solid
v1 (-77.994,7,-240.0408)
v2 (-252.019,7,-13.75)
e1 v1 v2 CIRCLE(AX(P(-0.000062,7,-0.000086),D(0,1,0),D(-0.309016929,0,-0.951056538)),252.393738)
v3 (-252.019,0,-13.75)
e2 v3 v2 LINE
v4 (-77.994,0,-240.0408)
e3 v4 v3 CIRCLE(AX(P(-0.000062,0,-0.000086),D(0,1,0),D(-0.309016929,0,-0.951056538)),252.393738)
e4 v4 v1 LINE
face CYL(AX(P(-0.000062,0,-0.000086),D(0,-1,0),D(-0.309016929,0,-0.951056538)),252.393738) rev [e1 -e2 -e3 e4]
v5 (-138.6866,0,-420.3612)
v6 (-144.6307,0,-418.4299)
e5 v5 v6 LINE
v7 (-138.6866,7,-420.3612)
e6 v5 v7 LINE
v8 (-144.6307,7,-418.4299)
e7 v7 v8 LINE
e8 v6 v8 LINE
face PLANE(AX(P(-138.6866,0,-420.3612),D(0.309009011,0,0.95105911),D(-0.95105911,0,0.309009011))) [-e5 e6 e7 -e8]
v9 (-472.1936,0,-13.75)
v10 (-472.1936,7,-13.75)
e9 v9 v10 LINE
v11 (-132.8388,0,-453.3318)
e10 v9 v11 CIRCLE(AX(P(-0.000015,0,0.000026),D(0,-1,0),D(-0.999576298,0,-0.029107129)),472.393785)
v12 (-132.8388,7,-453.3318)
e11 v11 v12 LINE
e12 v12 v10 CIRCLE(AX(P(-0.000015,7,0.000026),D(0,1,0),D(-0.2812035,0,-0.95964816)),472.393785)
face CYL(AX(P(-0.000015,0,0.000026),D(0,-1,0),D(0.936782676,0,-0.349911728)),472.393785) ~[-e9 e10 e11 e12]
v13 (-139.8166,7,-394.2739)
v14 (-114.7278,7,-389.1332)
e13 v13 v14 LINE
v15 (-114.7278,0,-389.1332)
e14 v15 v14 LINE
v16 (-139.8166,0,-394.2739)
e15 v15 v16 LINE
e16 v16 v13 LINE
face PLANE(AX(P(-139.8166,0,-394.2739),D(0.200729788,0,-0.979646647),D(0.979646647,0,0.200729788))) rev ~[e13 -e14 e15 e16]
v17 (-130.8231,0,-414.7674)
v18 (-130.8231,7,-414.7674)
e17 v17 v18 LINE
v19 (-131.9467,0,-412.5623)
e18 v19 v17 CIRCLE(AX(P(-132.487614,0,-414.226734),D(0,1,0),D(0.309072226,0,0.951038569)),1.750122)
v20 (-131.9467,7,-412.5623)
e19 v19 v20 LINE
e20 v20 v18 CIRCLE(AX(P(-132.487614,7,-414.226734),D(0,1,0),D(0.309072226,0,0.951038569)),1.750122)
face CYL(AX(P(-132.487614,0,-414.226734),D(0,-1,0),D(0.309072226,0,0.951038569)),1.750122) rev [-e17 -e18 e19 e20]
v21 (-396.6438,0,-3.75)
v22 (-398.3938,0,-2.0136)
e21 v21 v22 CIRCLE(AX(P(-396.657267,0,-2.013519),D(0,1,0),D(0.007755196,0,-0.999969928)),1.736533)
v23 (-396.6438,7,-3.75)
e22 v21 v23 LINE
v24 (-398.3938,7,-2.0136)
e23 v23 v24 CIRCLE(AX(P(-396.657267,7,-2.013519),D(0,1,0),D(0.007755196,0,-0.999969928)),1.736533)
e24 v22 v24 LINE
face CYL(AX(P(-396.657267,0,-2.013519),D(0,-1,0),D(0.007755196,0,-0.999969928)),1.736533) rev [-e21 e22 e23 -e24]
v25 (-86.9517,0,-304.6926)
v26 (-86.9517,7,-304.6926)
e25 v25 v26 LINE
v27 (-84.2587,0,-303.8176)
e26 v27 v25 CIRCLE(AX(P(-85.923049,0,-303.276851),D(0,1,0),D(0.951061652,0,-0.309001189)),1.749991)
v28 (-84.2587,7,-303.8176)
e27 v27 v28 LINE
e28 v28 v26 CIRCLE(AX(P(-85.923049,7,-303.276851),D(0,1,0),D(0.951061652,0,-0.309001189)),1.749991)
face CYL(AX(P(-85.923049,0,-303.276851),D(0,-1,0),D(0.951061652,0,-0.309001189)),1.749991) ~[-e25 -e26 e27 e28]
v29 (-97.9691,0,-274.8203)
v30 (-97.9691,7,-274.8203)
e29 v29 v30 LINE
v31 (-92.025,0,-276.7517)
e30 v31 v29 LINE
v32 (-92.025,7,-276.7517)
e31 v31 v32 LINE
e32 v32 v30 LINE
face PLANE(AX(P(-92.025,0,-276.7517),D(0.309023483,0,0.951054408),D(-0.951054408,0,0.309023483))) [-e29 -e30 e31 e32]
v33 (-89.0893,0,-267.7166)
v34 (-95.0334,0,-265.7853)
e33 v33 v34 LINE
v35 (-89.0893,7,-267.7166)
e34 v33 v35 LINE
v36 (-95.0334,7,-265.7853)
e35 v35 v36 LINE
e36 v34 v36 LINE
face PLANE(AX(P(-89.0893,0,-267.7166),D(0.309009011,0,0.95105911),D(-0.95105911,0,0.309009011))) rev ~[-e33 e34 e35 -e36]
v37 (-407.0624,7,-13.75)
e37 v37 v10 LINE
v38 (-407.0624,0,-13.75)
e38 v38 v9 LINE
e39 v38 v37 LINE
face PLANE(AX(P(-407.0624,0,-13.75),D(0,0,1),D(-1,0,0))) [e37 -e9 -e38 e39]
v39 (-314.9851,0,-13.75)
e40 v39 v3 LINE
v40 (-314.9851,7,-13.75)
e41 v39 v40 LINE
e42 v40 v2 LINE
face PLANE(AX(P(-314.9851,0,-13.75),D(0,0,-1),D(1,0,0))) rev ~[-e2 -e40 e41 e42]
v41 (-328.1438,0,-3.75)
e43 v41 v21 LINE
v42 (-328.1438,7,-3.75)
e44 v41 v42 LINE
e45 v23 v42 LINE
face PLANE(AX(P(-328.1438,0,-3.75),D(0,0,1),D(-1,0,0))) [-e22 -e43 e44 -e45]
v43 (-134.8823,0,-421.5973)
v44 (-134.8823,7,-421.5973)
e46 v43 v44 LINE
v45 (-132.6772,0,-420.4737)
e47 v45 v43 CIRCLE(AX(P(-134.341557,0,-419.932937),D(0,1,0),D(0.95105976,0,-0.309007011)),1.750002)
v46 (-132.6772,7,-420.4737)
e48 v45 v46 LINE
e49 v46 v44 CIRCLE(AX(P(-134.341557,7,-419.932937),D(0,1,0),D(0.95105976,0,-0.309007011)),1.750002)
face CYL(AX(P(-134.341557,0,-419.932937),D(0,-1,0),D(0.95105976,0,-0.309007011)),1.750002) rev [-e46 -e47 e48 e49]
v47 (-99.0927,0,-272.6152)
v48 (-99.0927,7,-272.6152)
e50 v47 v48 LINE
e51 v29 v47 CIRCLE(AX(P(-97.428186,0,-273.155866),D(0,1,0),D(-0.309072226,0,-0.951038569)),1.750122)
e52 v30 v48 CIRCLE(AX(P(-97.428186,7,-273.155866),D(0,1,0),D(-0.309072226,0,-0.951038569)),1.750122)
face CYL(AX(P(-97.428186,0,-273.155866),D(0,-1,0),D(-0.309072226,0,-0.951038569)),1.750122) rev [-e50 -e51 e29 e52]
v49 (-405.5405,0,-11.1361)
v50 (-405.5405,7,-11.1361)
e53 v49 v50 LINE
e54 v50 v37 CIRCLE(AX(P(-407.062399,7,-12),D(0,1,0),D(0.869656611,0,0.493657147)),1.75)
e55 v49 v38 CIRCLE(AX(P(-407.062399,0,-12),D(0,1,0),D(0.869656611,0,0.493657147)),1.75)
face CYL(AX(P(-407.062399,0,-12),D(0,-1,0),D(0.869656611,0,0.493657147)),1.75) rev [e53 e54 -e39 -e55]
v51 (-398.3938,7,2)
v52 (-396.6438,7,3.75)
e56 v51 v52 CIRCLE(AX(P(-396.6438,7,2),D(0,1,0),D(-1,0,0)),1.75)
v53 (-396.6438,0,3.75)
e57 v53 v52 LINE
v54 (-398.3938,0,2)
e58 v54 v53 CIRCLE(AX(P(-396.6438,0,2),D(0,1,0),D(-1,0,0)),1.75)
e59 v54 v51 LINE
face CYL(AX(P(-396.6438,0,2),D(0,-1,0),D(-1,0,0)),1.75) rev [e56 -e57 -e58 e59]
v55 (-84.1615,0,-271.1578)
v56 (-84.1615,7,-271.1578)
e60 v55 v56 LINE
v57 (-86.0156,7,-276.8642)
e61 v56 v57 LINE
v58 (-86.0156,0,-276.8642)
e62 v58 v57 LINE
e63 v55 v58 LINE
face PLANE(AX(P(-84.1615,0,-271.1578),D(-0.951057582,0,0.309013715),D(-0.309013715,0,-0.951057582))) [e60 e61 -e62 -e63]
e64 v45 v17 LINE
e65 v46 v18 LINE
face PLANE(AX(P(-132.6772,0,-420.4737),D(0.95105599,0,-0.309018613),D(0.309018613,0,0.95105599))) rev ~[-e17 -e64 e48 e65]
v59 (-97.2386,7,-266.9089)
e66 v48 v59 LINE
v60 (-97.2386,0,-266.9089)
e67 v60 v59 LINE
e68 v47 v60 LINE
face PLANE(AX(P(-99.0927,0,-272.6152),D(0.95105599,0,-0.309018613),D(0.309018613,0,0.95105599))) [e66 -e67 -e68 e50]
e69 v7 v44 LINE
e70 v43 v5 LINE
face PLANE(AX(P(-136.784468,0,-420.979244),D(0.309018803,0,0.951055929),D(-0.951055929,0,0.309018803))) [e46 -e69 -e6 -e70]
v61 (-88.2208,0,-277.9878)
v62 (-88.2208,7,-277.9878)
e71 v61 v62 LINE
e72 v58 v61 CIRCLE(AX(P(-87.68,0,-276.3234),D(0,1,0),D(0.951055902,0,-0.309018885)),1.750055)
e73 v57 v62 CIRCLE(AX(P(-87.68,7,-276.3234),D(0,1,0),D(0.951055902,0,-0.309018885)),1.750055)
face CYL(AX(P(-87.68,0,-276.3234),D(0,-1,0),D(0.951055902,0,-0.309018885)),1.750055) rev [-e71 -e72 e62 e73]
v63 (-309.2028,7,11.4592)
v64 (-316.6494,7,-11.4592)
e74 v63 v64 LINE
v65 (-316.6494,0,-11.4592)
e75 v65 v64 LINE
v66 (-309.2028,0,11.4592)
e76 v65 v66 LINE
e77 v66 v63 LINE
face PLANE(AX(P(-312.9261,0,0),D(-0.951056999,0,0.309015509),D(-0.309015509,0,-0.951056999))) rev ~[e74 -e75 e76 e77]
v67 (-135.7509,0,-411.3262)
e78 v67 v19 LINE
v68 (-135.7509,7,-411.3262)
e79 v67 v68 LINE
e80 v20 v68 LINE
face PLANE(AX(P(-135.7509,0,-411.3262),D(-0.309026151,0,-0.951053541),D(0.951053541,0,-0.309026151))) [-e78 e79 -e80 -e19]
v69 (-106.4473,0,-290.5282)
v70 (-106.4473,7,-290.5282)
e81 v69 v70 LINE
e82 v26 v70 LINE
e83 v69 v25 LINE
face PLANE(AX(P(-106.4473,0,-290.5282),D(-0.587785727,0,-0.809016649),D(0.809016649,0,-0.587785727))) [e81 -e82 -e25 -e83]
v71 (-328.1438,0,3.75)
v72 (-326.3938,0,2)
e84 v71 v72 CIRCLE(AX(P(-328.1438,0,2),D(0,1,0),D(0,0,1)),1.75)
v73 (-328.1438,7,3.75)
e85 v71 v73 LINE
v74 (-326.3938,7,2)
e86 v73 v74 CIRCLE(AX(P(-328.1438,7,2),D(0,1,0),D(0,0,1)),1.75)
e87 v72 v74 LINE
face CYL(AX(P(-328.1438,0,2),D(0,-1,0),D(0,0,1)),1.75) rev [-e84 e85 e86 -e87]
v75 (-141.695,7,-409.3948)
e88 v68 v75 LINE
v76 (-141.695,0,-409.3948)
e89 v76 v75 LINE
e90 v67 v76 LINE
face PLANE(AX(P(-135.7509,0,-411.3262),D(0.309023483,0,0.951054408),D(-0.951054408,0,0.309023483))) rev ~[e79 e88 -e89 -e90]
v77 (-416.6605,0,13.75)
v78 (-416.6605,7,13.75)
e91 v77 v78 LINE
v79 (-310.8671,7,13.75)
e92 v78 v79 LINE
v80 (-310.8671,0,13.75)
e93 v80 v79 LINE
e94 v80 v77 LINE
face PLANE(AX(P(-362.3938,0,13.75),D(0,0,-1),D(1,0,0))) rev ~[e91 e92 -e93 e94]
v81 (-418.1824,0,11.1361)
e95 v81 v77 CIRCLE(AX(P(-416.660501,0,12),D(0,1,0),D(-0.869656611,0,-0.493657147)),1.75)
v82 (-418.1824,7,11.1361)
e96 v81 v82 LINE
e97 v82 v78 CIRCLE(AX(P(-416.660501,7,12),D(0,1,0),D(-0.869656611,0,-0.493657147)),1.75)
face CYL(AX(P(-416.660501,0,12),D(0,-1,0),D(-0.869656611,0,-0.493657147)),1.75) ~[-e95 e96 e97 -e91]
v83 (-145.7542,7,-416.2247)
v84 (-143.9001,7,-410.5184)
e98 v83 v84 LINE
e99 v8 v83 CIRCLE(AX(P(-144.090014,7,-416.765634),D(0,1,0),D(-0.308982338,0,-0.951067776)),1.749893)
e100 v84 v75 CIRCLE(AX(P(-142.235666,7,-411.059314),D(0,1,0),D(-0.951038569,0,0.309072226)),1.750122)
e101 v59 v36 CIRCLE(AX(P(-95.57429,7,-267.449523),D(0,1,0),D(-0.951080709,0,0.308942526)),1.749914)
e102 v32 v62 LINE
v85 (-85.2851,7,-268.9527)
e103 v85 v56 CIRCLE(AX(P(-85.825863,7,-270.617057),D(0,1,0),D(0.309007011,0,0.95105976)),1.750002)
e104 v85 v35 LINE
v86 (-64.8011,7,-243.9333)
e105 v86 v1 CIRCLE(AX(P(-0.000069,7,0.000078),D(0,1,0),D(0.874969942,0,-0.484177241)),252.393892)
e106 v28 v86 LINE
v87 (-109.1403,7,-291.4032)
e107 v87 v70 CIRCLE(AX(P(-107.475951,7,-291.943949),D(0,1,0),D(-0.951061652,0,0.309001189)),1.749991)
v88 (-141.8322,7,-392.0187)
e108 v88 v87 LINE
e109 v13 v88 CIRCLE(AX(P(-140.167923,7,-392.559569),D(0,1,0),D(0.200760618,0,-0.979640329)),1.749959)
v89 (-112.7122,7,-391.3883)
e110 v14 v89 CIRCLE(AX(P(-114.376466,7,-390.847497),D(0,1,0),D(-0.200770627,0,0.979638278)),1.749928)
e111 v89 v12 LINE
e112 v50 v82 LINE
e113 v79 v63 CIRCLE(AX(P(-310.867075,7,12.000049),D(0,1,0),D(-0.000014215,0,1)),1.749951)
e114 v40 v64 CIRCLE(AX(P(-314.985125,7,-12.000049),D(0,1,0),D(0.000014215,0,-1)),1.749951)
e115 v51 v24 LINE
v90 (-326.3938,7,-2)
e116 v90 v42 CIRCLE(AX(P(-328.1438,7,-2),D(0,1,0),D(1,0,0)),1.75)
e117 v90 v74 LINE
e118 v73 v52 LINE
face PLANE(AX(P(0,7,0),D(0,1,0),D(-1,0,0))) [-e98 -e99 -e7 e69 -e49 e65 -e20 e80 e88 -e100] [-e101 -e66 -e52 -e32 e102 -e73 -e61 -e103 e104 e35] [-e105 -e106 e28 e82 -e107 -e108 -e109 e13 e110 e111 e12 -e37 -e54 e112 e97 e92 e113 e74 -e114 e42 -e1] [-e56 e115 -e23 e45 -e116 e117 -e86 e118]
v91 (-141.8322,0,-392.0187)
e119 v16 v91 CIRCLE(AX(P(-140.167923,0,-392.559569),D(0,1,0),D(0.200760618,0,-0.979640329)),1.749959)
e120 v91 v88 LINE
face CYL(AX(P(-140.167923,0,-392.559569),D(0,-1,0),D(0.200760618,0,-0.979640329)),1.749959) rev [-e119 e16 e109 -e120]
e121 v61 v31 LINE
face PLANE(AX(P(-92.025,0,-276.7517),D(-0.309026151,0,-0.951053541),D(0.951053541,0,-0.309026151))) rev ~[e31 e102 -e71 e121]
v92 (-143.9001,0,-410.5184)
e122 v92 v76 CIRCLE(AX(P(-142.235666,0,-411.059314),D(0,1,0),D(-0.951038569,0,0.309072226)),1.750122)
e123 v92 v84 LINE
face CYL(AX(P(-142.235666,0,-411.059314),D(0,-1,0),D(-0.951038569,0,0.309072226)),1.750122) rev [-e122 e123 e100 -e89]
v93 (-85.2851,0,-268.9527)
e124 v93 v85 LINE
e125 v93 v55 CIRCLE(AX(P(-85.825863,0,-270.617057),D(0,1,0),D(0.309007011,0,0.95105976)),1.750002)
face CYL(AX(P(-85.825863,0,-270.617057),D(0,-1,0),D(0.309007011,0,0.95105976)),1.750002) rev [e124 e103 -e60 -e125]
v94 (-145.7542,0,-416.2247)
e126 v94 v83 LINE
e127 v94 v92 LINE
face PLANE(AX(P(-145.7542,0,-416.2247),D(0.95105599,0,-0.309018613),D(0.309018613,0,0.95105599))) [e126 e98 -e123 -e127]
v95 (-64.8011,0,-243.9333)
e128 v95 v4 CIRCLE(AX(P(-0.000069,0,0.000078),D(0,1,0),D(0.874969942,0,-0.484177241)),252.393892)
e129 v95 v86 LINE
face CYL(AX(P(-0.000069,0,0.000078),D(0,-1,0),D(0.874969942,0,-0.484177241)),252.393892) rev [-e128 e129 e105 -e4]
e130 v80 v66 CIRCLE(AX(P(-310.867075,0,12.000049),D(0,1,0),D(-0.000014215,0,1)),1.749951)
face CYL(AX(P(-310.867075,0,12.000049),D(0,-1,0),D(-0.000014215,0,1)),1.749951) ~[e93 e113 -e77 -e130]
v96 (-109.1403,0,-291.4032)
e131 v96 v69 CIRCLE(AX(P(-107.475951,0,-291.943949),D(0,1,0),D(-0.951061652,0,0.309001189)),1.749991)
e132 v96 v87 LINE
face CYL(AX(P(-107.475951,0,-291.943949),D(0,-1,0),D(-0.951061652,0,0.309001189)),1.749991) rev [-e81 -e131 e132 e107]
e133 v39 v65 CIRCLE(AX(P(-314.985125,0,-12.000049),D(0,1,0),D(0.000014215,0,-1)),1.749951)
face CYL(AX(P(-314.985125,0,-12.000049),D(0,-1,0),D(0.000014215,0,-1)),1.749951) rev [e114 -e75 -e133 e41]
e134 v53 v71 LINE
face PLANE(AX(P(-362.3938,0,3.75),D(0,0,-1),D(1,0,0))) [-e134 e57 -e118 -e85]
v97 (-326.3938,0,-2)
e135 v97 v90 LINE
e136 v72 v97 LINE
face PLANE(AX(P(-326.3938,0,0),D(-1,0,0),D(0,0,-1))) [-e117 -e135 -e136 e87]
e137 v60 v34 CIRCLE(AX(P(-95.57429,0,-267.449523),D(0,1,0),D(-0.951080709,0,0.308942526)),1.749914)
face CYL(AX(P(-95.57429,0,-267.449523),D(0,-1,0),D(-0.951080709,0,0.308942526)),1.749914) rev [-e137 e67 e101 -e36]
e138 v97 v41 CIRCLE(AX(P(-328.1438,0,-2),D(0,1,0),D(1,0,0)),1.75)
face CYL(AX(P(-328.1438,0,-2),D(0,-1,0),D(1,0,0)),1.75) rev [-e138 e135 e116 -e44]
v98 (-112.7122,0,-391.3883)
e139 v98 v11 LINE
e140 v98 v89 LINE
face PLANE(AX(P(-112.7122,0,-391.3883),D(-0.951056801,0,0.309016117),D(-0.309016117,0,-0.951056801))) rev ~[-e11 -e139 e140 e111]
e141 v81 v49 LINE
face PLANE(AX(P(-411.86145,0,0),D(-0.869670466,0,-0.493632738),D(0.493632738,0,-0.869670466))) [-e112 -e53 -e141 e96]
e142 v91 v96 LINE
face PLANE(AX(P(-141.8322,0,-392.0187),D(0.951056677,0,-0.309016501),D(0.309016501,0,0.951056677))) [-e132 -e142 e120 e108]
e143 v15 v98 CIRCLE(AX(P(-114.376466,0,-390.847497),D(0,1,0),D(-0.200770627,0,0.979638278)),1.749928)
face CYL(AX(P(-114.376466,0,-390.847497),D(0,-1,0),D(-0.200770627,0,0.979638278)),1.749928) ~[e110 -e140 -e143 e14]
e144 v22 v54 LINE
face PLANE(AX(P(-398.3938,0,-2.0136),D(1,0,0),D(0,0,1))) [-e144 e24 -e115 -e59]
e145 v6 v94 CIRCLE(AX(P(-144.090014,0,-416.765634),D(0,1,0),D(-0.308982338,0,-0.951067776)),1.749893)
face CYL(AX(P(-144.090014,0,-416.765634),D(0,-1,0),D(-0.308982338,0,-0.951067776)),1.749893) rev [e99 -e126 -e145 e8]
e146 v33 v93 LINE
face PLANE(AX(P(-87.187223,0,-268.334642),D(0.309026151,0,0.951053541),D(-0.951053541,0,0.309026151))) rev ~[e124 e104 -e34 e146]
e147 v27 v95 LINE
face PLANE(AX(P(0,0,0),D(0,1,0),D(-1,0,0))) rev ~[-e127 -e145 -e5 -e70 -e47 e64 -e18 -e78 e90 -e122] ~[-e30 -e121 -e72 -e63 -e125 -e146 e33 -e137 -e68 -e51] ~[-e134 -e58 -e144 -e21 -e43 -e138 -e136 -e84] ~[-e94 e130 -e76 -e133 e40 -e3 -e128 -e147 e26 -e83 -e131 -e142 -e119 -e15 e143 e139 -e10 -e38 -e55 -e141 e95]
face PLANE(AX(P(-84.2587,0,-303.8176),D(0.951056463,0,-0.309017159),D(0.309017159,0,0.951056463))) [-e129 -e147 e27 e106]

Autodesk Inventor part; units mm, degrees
ref_plane "YZ Plane" through (0, 0, 0) normal (1, 0, 0) x (0, 1, 0)
ref_plane "XZ Plane" through (0, 0, 0) normal (0, 1, 0) x (-1, 0, 0)
ref_plane "XY Plane" through (0, 0, 0) normal (0, 0, 1) x (1, 0, 0)
sketch "Sketch1" plane through (0, 0, 0) normal (0, 1, 0) x (-1, 0, 0)
  line L0 (0, 0) -> (618.9442, 0)
  line L1 (0, 0) -> (191.2643, 588.6509)
  line L2 (0, 0) -> (-500.7364, 363.8063)
  line L3 (0, 0) -> (-500.7364, -363.8063)
  line L4 (0, 0) -> (191.2643, -588.6509)
  line L5 (396.6438, 3.75) -> (328.1438, 3.75)
  line L6 (328.1438, -3.75) -> (396.6438, -3.75)
  arc A0 (472.3938, 0) -> (145.9777, 449.2732) centre (0, 0) ccw
  arc A1 (77.994, -240.0408) -> (252.3938, 0) centre (0, 0) ccw
  line L7 (289.8938, 3.75) -> (283.8938, 3.75)
  line L8 (283.8938, -3.75) -> (289.8938, -3.75)
  arc A2 (328.1438, 3.75) -> (326.3938, 2) centre (328.1438, 2) ccw
  arc A3 (326.3938, -2) -> (328.1438, -3.75) centre (328.1438, -2) ccw
  line L9 (326.3938, 2) -> (326.3938, -2)
  arc A4 (398.3938, 2) -> (396.6438, 3.75) centre (396.6438, 2) ccw
  arc A5 (396.6438, -3.75) -> (398.3938, -2.0136) centre (396.6573, -2.0136) ccw
  line L10 (398.3938, -2.0136) -> (398.3938, 2)
  line L11 (362.3938, -3.75) -> (362.3938, 32.9806)
  arc A6 (283.8938, 3.75) -> (282.1438, 2) centre (283.8938, 2) ccw
  arc A7 (282.1438, -2) -> (283.8938, -3.75) centre (283.8938, -2) ccw
  arc A8 (289.8938, -3.75) -> (291.6438, -2) centre (289.8938, -2) ccw
  arc A9 (291.6438, 2) -> (289.8938, 3.75) centre (289.8938, 2) ccw
  line L12 (291.6438, 2) -> (291.6438, -2)
  line L13 (282.1438, -2) -> (282.1438, 2)
  line L14 (434.8938, 3.75) -> (440.8938, 3.75)
  line L15 (440.8938, -3.75) -> (434.8938, -3.75)
  arc A10 (442.6438, 2) -> (440.8938, 3.75) centre (440.8938, 2) ccw
  arc A11 (440.8938, -3.75) -> (442.6438, -2) centre (440.8938, -2) ccw
  arc A12 (433.1438, -2) -> (434.8938, -3.75) centre (434.8938, -2) ccw
  arc A13 (434.8938, 3.75) -> (433.1438, 2) centre (434.8938, 2) ccw
  line L16 (433.1438, 2) -> (433.1438, -2)
  line L17 (442.6438, -2) -> (442.6438, 2)
  line L18 (131.9467, 412.5623) -> (135.7509, 411.3262)
  arc A14 (130.8231, 414.7674) -> (131.9467, 412.5623) centre (132.4875, 414.2266) ccw
  arc A15 (135.7509, 411.3262) -> (137.956, 412.4498) centre (136.2917, 412.9905) ccw
  line L19 (139.8101, 418.1561) -> (137.956, 412.4498)
  line L20 (130.8231, 414.7674) -> (132.6772, 420.4737)
  arc A16 (134.8823, 421.5973) -> (132.6772, 420.4737) centre (134.3416, 419.9329) ccw
  line L21 (138.6866, 420.3612) -> (134.8823, 421.5973)
  arc A17 (139.8101, 418.1561) -> (138.6866, 420.3612) centre (138.1458, 418.6969) ccw
  line L22 (125.0255, 378.2728) -> (121.2083, 379.513)
  arc A18 (121.2083, 379.513) -> (119.0032, 378.3895) centre (120.6676, 377.8487) ccw
  arc A19 (126.1361, 376.0718) -> (125.0255, 378.2728) centre (124.4888, 376.6213) ccw
  line L23 (119.0032, 378.3895) -> (97.8355, 313.2421)
  line L24 (98.9591, 311.037) -> (102.7633, 309.8009)
  arc A20 (97.8355, 313.2421) -> (98.9591, 311.037) centre (99.4999, 312.7013) ccw
  arc A21 (102.7633, 309.8009) -> (104.9685, 310.9245) centre (103.3041, 311.4652) ccw
  line L25 (104.9685, 310.9245) -> (126.1361, 376.0718)
  line L26 (88.2208, 277.9878) -> (92.025, 276.7517)
  arc A22 (93.1486, 274.5466) -> (92.025, 276.7517) centre (91.4842, 275.0873) ccw
  line L27 (91.2945, 268.8402) -> (93.1486, 274.5466)
  arc A23 (88.2208, 277.9878) -> (86.0156, 276.8642) centre (87.68, 276.3234) ccw
  line L28 (86.0156, 276.8642) -> (84.1615, 271.1578)
  arc A24 (84.1615, 271.1578) -> (85.2851, 268.9527) centre (85.8259, 270.6171) ccw
  arc A25 (89.0893, 267.7166) -> (91.2945, 268.8402) centre (89.6301, 269.381) ccw
  line L29 (89.0893, 267.7166) -> (85.2851, 268.9527)
  line L30 (-351.5963, 252.9775) -> (-349.2451, 256.2136)
  arc A26 (-354.0407, 252.5903) -> (-351.5963, 252.9775) centre (-353.012, 254.0061) ccw
  arc A27 (-349.2451, 256.2136) -> (-349.6323, 258.658) centre (-350.6609, 257.2422) ccw
  line L31 (-354.4864, 262.1847) -> (-349.6323, 258.658)
  line L32 (-354.0407, 252.5903) -> (-358.8948, 256.1171)
  arc A28 (-359.2819, 258.5615) -> (-358.8948, 256.1171) centre (-357.8661, 257.5328) ccw
  line L33 (-356.9308, 261.7975) -> (-359.2819, 258.5615)
  arc A29 (-354.4864, 262.1847) -> (-356.9308, 261.7975) centre (-355.515, 260.7689) ccw
  line L34 (-321.1238, 235.799) -> (-323.4829, 232.552)
  arc A30 (-323.4829, 232.552) -> (-323.0958, 230.1076) centre (-322.0671, 231.5233) ccw
  arc A31 (-318.6874, 236.1752) -> (-321.1238, 235.799) centre (-319.7189, 234.7783) ccw
  line L35 (-323.0958, 230.1076) -> (-267.6781, 189.8443)
  line L36 (-265.2337, 190.2314) -> (-262.8825, 193.4675)
  arc A32 (-267.6781, 189.8443) -> (-265.2337, 190.2314) centre (-266.6495, 191.26) ccw
  arc A33 (-262.8825, 193.4675) -> (-263.2697, 195.9119) centre (-264.2983, 194.4961) ccw
  line L37 (-263.2697, 195.9119) -> (-318.6874, 236.1752)
  line L38 (-237.1203, 169.8059) -> (-234.7692, 173.0419)
  arc A34 (-232.3248, 173.4291) -> (-234.7692, 173.0419) centre (-233.3534, 172.0133) ccw
  line L39 (-227.4707, 169.9024) -> (-232.3248, 173.4291)
  arc A35 (-237.1203, 169.8059) -> (-236.7332, 167.3615) centre (-235.7046, 168.7773) ccw
  line L40 (-236.7332, 167.3615) -> (-231.8791, 163.8348)
  arc A36 (-231.8791, 163.8348) -> (-229.4347, 164.2219) centre (-230.8505, 165.2505) ccw
  arc A37 (-227.0835, 167.458) -> (-227.4707, 169.9024) centre (-228.4993, 168.4866) ccw
  line L41 (-227.0835, 167.458) -> (-229.4347, 164.2219)
  line L42 (-349.2451, -256.2136) -> (-351.5963, -252.9775)
  arc A38 (-349.6323, -258.658) -> (-349.2451, -256.2136) centre (-350.6609, -257.2422) ccw
  arc A39 (-351.5963, -252.9775) -> (-354.0407, -252.5903) centre (-353.012, -254.0061) ccw
  line L43 (-358.8948, -256.117) -> (-354.0407, -252.5903)
  line L44 (-349.6323, -258.658) -> (-354.4864, -262.1847)
  arc A40 (-356.9308, -261.7975) -> (-354.4864, -262.1847) centre (-355.515, -260.7689) ccw
  line L45 (-359.2819, -258.5615) -> (-356.9308, -261.7975)
  arc A41 (-358.8948, -256.117) -> (-359.2819, -258.5615) centre (-357.8661, -257.5328) ccw
  line L46 (-323.4909, -232.541) -> (-321.1318, -235.788)
  arc A42 (-321.1318, -235.788) -> (-318.6874, -236.1752) centre (-319.716, -234.7594) ccw
  arc A43 (-323.0958, -230.1076) -> (-323.4909, -232.541) centre (-322.086, -231.5203) ccw
  line L47 (-318.6874, -236.1752) -> (-263.2697, -195.9119)
  line L48 (-262.8825, -193.4675) -> (-265.2337, -190.2314)
  arc A44 (-263.2697, -195.9119) -> (-262.8825, -193.4675) centre (-264.2983, -194.4961) ccw
  arc A45 (-265.2337, -190.2314) -> (-267.6781, -189.8443) centre (-266.6495, -191.26) ccw
  line L49 (-267.6781, -189.8443) -> (-323.0958, -230.1076)
  line L50 (-234.7692, -173.0419) -> (-237.1203, -169.8059)
  arc A46 (-236.7332, -167.3615) -> (-237.1203, -169.8059) centre (-235.7046, -168.7773) ccw
  line L51 (-231.8791, -163.8348) -> (-236.7332, -167.3615)
  arc A47 (-234.7692, -173.0419) -> (-232.3248, -173.4291) centre (-233.3534, -172.0133) ccw
  line L52 (-232.3248, -173.4291) -> (-227.4707, -169.9024)
  arc A48 (-227.4707, -169.9024) -> (-227.0835, -167.458) centre (-228.4993, -168.4866) ccw
  arc A49 (-229.4347, -164.2219) -> (-231.8791, -163.8348) centre (-230.8505, -165.2505) ccw
  line L53 (-229.4347, -164.2219) -> (-227.0835, -167.458)
  line L54 (135.7509, -411.3262) -> (131.9467, -412.5623)
  arc A50 (137.956, -412.4498) -> (135.7509, -411.3262) centre (136.2917, -412.9905) ccw
  arc A51 (131.9467, -412.5623) -> (130.8231, -414.7674) centre (132.4875, -414.2266) ccw
  line L55 (132.6772, -420.4737) -> (130.8231, -414.7674)
  line L56 (137.956, -412.4498) -> (139.8101, -418.1561)
  arc A52 (138.6866, -420.3612) -> (139.8101, -418.1561) centre (138.1458, -418.6969) ccw
  line L57 (134.8823, -421.5973) -> (138.6866, -420.3612)
  arc A53 (132.6772, -420.4737) -> (134.8823, -421.5973) centre (134.3416, -419.9329) ccw
  line L58 (121.1954, -379.5172) -> (125.0126, -378.277)
  arc A54 (125.0126, -378.277) -> (126.1361, -376.0718) centre (124.4718, -376.6126) ccw
  arc A55 (119.0032, -378.3895) -> (121.1954, -379.5172) centre (120.6588, -377.8657) ccw
  line L59 (126.1361, -376.0718) -> (104.9685, -310.9245)
  line L60 (102.7633, -309.8009) -> (98.9591, -311.037)
  arc A56 (104.9685, -310.9245) -> (102.7633, -309.8009) centre (103.3041, -311.4652) ccw
  arc A57 (98.9591, -311.037) -> (97.8355, -313.2421) centre (99.4999, -312.7013) ccw
  line L61 (97.8355, -313.2421) -> (119.0032, -378.3895)
  line L62 (92.025, -276.7517) -> (88.2208, -277.9878)
  arc A58 (86.0156, -276.8642) -> (88.2208, -277.9878) centre (87.68, -276.3234) ccw
  line L63 (84.1615, -271.1578) -> (86.0156, -276.8642)
  arc A59 (92.025, -276.7517) -> (93.1486, -274.5466) centre (91.4842, -275.0873) ccw
  line L64 (93.1486, -274.5466) -> (91.2945, -268.8402)
  arc A60 (91.2945, -268.8402) -> (89.0893, -267.7166) centre (89.6301, -269.381) ccw
  arc A61 (85.2851, -268.9527) -> (84.1615, -271.1578) centre (85.8259, -270.6171) ccw
  line L65 (85.2851, -268.9527) -> (89.0893, -267.7166)
  line L66 (-442.5303, 165.2961) -> (-220.837, 122.2033)
  line L67 (-442.5303, -165.2961) -> (-220.837, -122.2033)
  arc A62 (252.3938, 0) -> (-220.837, 122.2033) centre (0, 0) ccw
  arc A63 (-220.837, -122.2033) -> (77.994, -240.0408) centre (0, 0) ccw
  arc A64 (145.9777, 449.2732) -> (-442.5303, 165.2961) centre (0, 0) ccw
  arc A65 (-442.5303, -165.2961) -> (472.3938, 0) centre (0, 0) ccw
  line L68 (115.6782, 400.5167) -> (82.9862, 299.9012)
  line L69 (84.6505, 297.6104) -> (108.7484, 297.6104)
  line L70 (110.4128, 295.3196) -> (90.9552, 235.4353)
  line L71 (138.8662, 382.8904) -> (158.9929, 444.8338)
  line L72 (118.6344, 401.1564) -> (135.91, 382.2507)
  line L73 (123.1169, 378.8929) -> (127.2722, 391.7035) construction
  line L74 (100.8612, 310.4189) -> (96.6995, 297.6104) construction
  arc A66 (135.91, 382.2507) -> (138.8662, 382.8904) centre (137.2019, 383.4311) ccw
  arc A67 (118.6344, 401.1564) -> (115.6782, 400.5167) centre (117.3425, 399.9759) ccw
  arc A68 (82.9862, 299.9012) -> (84.6505, 297.6104) centre (84.6505, 299.3604) ccw
  arc A69 (110.4128, 295.3196) -> (108.7484, 297.6104) centre (108.7484, 295.8604) ccw
  line L75 (407.0624, -13.75) -> (472.1936, -13.75)
  arc A70 (405.5405, -11.1361) -> (407.0624, -13.75) centre (407.0624, -12) ccw
  line L76 (418.1824, 11.1361) -> (405.5405, -11.1361)
  arc A71 (418.1824, 11.1361) -> (416.6605, 13.75) centre (416.6605, 12) ccw
  line L77 (416.6605, 13.75) -> (310.8671, 13.75)
  line L78 (309.2028, 11.4592) -> (316.6494, -11.4592)
  arc A72 (310.8671, 13.75) -> (309.2028, 11.4592) centre (310.8671, 12) ccw
  arc A73 (314.9851, -13.75) -> (316.6494, -11.4592) centre (314.9851, -12) ccw
  line L79 (314.9851, -13.75) -> (252.019, -13.75)
  line L80 (112.7122, -391.3883) -> (132.8388, -453.3318)
  arc A74 (114.7278, -389.1332) -> (112.7122, -391.3883) centre (114.3765, -390.8476) ccw
  line L81 (139.8166, -394.2739) -> (114.7278, -389.1332)
  arc A75 (139.8166, -394.2739) -> (141.8322, -392.0187) centre (140.1679, -392.5595) ccw
  line L82 (141.8322, -392.0187) -> (109.1403, -291.4032)
  line L83 (106.4473, -290.5282) -> (86.9517, -304.6926)
  arc A76 (109.1403, -291.4032) -> (106.4473, -290.5282) centre (107.4759, -291.944) ccw
  arc A77 (84.2587, -303.8176) -> (86.9517, -304.6926) centre (85.9231, -303.2768) ccw
  line L84 (84.2587, -303.8176) -> (64.8011, -243.9333)
  line L85 (-359.2819, 258.5615) -> (-362.9556, 253.5051)
  line L86 (-362.5684, 251.0607) -> (-357.7143, 247.534)
  line L87 (-351.5963, 252.9775) -> (-355.2699, 247.9211)
  arc A78 (-362.9556, 253.5051) -> (-362.5684, 251.0607) centre (-361.5398, 252.4765) ccw
  arc A79 (-357.7143, 247.534) -> (-355.2699, 247.9211) centre (-356.6857, 248.9498) ccw
  line L88 (-237.1203, 169.8059) -> (-240.794, 164.7495)
  line L89 (-240.4068, 162.3051) -> (-235.5527, 158.7784)
  line L90 (-229.4347, 164.2219) -> (-233.1083, 159.1656)
  arc A80 (-240.794, 164.7495) -> (-240.4068, 162.3051) centre (-239.3782, 163.7209) ccw
  arc A81 (-235.5527, 158.7784) -> (-233.1083, 159.1656) centre (-234.5241, 160.1942) ccw
  line L91 (-356.9308, -261.7975) -> (-353.2571, -266.8539)
  arc A82 (-353.2571, -266.8539) -> (-350.8127, -267.241) centre (-351.8413, -265.8253) ccw
  line L92 (-350.8127, -267.241) -> (-345.9586, -263.7143)
  arc A83 (-345.9586, -263.7143) -> (-345.5715, -261.2699) centre (-346.9872, -262.2985) ccw
  line L93 (-349.2451, -256.2136) -> (-345.5715, -261.2699)
  line L94 (-234.7692, -173.0419) -> (-231.0955, -178.0983)
  arc A84 (-231.0955, -178.0983) -> (-228.6511, -178.4855) centre (-229.6798, -177.0697) ccw
  line L95 (-228.6511, -178.4855) -> (-223.797, -174.9587)
  arc A85 (-223.797, -174.9587) -> (-223.4099, -172.5143) centre (-224.8257, -173.543) ccw
  line L96 (-227.0835, -167.458) -> (-223.4099, -172.5143)
  line L97 (138.6866, -420.3612) -> (144.6307, -418.4299)
  arc A86 (144.6307, -418.4299) -> (145.7542, -416.2247) centre (144.0899, -416.7655) ccw
  line L98 (145.7542, -416.2247) -> (143.9001, -410.5184)
  arc A87 (143.9001, -410.5184) -> (141.695, -409.3948) centre (142.2358, -411.0592) ccw
  line L99 (135.7509, -411.3262) -> (141.695, -409.3948)
  line L100 (92.025, -276.7517) -> (97.9691, -274.8203)
  arc A88 (97.9691, -274.8203) -> (99.0927, -272.6152) centre (97.4283, -273.156) ccw
  line L101 (99.0927, -272.6152) -> (97.2386, -266.9089)
  arc A89 (97.2386, -266.9089) -> (95.0334, -265.7853) centre (95.5742, -267.4496) ccw
  line L102 (89.0893, -267.7166) -> (95.0334, -265.7853)
  line L103 (442.6438, 2) -> (442.6438, 8.25)
  arc A90 (442.6438, 8.25) -> (440.8938, 10) centre (440.8938, 8.25) ccw
  line L104 (440.8938, 10) -> (434.8938, 10)
  arc A91 (434.8938, 10) -> (433.1438, 8.25) centre (434.8938, 8.25) ccw
  line L105 (433.1438, 2) -> (433.1438, 8.25)
  line L106 (291.6438, 2) -> (291.6438, 8.25)
  arc A92 (291.6438, 8.25) -> (289.8938, 10) centre (289.8938, 8.25) ccw
  line L107 (289.8938, 10) -> (283.8938, 10)
  arc A93 (283.8938, 10) -> (282.1438, 8.25) centre (283.8938, 8.25) ccw
  line L108 (282.1438, 2) -> (282.1438, 8.25)
  line L109 (134.8823, 421.5973) -> (128.9382, 423.5286)
  arc A94 (128.9382, 423.5286) -> (126.7331, 422.4051) centre (128.3975, 421.8643) ccw
  line L110 (126.7331, 422.4051) -> (124.879, 416.6987)
  arc A95 (124.879, 416.6987) -> (126.0026, 414.4936) centre (126.5434, 416.158) ccw
  line L111 (131.9467, 412.5623) -> (126.0026, 414.4936)
  line L112 (88.2208, 277.9878) -> (82.2767, 279.9191)
  arc A96 (82.2767, 279.9191) -> (80.0715, 278.7955) centre (81.7359, 278.2548) ccw
  line L113 (80.0715, 278.7955) -> (78.2174, 273.0892)
  arc A97 (78.2174, 273.0892) -> (79.341, 270.8841) centre (79.8818, 272.5484) ccw
  line L114 (85.2851, 268.9527) -> (79.341, 270.8841)
  point P0 (115.5523, 343.4982)
  point P1 (-290.9785, 216.0435)
  point P2 (-295.3869, -209.9759)
  point P3 (108.4194, -345.8158)
  point P4 (137.9375, 380.0319)
  point P5 (97.9406, 311.9068)
  point P6 (104.0986, 309.906)
  point P7 (119.8731, 379.408)
  point P8 (404.0568, -13.75)
  point P9 (411.8615, 0)
  point P10 (312.9261, 0)
  point P11 (111.7834, -388.5299)
  point P12 (127.2722, -391.7035)
  point P13 (96.6995, -297.6104)
  point P14 (282.1438, 2)
  point P15 (442.6438, 2)
  dimension "d4" = 360
  dimension "d6" = 7.5
  dimension "d7" = 7.5
  dimension "d9" = 68.5
  dimension "d10" = 7.5
  dimension "d11" = 7.5
  dimension "d12" = 3.5
  dimension "d13" = 3.5
  dimension "d19" = 360
  dimension "d21" = 25
  dimension "d25" = 10
  dimension "d26" = 10
  dimension "d27" = 1.75
  dimension "d30" = 144
  dimension "d34" = 0
  dimension "d35" = 8
  dimension "d36" = 1.75
  dimension "d43" = 8
  dimension "d44" = 1.75
  dimension "d47" = 360
extrude "Extrusion1" add sketch "Sketch1" along normal blind 7 contours A1 L79 A73 L78 L0 L9 A3 L6 A5 L10 L76 A70 L75 A65 L4 L57 L97 A86 L98 A87 L99 L54 L81 A75 L82 A76 L83 L62 L100 A88 L101 A89 L102 L65 | L4 L65 A61 L63 A58 L62 L83 A77 L84 A63 | L78 A72 L77 L11 L5 A2 L9 L0 | L80 A74 L81 L4 L54 A51 L55 A53 L57 A65 | L10 A4 L5 L11 L77 A71 L76 L0
properties part number "Level 3b - V2"
